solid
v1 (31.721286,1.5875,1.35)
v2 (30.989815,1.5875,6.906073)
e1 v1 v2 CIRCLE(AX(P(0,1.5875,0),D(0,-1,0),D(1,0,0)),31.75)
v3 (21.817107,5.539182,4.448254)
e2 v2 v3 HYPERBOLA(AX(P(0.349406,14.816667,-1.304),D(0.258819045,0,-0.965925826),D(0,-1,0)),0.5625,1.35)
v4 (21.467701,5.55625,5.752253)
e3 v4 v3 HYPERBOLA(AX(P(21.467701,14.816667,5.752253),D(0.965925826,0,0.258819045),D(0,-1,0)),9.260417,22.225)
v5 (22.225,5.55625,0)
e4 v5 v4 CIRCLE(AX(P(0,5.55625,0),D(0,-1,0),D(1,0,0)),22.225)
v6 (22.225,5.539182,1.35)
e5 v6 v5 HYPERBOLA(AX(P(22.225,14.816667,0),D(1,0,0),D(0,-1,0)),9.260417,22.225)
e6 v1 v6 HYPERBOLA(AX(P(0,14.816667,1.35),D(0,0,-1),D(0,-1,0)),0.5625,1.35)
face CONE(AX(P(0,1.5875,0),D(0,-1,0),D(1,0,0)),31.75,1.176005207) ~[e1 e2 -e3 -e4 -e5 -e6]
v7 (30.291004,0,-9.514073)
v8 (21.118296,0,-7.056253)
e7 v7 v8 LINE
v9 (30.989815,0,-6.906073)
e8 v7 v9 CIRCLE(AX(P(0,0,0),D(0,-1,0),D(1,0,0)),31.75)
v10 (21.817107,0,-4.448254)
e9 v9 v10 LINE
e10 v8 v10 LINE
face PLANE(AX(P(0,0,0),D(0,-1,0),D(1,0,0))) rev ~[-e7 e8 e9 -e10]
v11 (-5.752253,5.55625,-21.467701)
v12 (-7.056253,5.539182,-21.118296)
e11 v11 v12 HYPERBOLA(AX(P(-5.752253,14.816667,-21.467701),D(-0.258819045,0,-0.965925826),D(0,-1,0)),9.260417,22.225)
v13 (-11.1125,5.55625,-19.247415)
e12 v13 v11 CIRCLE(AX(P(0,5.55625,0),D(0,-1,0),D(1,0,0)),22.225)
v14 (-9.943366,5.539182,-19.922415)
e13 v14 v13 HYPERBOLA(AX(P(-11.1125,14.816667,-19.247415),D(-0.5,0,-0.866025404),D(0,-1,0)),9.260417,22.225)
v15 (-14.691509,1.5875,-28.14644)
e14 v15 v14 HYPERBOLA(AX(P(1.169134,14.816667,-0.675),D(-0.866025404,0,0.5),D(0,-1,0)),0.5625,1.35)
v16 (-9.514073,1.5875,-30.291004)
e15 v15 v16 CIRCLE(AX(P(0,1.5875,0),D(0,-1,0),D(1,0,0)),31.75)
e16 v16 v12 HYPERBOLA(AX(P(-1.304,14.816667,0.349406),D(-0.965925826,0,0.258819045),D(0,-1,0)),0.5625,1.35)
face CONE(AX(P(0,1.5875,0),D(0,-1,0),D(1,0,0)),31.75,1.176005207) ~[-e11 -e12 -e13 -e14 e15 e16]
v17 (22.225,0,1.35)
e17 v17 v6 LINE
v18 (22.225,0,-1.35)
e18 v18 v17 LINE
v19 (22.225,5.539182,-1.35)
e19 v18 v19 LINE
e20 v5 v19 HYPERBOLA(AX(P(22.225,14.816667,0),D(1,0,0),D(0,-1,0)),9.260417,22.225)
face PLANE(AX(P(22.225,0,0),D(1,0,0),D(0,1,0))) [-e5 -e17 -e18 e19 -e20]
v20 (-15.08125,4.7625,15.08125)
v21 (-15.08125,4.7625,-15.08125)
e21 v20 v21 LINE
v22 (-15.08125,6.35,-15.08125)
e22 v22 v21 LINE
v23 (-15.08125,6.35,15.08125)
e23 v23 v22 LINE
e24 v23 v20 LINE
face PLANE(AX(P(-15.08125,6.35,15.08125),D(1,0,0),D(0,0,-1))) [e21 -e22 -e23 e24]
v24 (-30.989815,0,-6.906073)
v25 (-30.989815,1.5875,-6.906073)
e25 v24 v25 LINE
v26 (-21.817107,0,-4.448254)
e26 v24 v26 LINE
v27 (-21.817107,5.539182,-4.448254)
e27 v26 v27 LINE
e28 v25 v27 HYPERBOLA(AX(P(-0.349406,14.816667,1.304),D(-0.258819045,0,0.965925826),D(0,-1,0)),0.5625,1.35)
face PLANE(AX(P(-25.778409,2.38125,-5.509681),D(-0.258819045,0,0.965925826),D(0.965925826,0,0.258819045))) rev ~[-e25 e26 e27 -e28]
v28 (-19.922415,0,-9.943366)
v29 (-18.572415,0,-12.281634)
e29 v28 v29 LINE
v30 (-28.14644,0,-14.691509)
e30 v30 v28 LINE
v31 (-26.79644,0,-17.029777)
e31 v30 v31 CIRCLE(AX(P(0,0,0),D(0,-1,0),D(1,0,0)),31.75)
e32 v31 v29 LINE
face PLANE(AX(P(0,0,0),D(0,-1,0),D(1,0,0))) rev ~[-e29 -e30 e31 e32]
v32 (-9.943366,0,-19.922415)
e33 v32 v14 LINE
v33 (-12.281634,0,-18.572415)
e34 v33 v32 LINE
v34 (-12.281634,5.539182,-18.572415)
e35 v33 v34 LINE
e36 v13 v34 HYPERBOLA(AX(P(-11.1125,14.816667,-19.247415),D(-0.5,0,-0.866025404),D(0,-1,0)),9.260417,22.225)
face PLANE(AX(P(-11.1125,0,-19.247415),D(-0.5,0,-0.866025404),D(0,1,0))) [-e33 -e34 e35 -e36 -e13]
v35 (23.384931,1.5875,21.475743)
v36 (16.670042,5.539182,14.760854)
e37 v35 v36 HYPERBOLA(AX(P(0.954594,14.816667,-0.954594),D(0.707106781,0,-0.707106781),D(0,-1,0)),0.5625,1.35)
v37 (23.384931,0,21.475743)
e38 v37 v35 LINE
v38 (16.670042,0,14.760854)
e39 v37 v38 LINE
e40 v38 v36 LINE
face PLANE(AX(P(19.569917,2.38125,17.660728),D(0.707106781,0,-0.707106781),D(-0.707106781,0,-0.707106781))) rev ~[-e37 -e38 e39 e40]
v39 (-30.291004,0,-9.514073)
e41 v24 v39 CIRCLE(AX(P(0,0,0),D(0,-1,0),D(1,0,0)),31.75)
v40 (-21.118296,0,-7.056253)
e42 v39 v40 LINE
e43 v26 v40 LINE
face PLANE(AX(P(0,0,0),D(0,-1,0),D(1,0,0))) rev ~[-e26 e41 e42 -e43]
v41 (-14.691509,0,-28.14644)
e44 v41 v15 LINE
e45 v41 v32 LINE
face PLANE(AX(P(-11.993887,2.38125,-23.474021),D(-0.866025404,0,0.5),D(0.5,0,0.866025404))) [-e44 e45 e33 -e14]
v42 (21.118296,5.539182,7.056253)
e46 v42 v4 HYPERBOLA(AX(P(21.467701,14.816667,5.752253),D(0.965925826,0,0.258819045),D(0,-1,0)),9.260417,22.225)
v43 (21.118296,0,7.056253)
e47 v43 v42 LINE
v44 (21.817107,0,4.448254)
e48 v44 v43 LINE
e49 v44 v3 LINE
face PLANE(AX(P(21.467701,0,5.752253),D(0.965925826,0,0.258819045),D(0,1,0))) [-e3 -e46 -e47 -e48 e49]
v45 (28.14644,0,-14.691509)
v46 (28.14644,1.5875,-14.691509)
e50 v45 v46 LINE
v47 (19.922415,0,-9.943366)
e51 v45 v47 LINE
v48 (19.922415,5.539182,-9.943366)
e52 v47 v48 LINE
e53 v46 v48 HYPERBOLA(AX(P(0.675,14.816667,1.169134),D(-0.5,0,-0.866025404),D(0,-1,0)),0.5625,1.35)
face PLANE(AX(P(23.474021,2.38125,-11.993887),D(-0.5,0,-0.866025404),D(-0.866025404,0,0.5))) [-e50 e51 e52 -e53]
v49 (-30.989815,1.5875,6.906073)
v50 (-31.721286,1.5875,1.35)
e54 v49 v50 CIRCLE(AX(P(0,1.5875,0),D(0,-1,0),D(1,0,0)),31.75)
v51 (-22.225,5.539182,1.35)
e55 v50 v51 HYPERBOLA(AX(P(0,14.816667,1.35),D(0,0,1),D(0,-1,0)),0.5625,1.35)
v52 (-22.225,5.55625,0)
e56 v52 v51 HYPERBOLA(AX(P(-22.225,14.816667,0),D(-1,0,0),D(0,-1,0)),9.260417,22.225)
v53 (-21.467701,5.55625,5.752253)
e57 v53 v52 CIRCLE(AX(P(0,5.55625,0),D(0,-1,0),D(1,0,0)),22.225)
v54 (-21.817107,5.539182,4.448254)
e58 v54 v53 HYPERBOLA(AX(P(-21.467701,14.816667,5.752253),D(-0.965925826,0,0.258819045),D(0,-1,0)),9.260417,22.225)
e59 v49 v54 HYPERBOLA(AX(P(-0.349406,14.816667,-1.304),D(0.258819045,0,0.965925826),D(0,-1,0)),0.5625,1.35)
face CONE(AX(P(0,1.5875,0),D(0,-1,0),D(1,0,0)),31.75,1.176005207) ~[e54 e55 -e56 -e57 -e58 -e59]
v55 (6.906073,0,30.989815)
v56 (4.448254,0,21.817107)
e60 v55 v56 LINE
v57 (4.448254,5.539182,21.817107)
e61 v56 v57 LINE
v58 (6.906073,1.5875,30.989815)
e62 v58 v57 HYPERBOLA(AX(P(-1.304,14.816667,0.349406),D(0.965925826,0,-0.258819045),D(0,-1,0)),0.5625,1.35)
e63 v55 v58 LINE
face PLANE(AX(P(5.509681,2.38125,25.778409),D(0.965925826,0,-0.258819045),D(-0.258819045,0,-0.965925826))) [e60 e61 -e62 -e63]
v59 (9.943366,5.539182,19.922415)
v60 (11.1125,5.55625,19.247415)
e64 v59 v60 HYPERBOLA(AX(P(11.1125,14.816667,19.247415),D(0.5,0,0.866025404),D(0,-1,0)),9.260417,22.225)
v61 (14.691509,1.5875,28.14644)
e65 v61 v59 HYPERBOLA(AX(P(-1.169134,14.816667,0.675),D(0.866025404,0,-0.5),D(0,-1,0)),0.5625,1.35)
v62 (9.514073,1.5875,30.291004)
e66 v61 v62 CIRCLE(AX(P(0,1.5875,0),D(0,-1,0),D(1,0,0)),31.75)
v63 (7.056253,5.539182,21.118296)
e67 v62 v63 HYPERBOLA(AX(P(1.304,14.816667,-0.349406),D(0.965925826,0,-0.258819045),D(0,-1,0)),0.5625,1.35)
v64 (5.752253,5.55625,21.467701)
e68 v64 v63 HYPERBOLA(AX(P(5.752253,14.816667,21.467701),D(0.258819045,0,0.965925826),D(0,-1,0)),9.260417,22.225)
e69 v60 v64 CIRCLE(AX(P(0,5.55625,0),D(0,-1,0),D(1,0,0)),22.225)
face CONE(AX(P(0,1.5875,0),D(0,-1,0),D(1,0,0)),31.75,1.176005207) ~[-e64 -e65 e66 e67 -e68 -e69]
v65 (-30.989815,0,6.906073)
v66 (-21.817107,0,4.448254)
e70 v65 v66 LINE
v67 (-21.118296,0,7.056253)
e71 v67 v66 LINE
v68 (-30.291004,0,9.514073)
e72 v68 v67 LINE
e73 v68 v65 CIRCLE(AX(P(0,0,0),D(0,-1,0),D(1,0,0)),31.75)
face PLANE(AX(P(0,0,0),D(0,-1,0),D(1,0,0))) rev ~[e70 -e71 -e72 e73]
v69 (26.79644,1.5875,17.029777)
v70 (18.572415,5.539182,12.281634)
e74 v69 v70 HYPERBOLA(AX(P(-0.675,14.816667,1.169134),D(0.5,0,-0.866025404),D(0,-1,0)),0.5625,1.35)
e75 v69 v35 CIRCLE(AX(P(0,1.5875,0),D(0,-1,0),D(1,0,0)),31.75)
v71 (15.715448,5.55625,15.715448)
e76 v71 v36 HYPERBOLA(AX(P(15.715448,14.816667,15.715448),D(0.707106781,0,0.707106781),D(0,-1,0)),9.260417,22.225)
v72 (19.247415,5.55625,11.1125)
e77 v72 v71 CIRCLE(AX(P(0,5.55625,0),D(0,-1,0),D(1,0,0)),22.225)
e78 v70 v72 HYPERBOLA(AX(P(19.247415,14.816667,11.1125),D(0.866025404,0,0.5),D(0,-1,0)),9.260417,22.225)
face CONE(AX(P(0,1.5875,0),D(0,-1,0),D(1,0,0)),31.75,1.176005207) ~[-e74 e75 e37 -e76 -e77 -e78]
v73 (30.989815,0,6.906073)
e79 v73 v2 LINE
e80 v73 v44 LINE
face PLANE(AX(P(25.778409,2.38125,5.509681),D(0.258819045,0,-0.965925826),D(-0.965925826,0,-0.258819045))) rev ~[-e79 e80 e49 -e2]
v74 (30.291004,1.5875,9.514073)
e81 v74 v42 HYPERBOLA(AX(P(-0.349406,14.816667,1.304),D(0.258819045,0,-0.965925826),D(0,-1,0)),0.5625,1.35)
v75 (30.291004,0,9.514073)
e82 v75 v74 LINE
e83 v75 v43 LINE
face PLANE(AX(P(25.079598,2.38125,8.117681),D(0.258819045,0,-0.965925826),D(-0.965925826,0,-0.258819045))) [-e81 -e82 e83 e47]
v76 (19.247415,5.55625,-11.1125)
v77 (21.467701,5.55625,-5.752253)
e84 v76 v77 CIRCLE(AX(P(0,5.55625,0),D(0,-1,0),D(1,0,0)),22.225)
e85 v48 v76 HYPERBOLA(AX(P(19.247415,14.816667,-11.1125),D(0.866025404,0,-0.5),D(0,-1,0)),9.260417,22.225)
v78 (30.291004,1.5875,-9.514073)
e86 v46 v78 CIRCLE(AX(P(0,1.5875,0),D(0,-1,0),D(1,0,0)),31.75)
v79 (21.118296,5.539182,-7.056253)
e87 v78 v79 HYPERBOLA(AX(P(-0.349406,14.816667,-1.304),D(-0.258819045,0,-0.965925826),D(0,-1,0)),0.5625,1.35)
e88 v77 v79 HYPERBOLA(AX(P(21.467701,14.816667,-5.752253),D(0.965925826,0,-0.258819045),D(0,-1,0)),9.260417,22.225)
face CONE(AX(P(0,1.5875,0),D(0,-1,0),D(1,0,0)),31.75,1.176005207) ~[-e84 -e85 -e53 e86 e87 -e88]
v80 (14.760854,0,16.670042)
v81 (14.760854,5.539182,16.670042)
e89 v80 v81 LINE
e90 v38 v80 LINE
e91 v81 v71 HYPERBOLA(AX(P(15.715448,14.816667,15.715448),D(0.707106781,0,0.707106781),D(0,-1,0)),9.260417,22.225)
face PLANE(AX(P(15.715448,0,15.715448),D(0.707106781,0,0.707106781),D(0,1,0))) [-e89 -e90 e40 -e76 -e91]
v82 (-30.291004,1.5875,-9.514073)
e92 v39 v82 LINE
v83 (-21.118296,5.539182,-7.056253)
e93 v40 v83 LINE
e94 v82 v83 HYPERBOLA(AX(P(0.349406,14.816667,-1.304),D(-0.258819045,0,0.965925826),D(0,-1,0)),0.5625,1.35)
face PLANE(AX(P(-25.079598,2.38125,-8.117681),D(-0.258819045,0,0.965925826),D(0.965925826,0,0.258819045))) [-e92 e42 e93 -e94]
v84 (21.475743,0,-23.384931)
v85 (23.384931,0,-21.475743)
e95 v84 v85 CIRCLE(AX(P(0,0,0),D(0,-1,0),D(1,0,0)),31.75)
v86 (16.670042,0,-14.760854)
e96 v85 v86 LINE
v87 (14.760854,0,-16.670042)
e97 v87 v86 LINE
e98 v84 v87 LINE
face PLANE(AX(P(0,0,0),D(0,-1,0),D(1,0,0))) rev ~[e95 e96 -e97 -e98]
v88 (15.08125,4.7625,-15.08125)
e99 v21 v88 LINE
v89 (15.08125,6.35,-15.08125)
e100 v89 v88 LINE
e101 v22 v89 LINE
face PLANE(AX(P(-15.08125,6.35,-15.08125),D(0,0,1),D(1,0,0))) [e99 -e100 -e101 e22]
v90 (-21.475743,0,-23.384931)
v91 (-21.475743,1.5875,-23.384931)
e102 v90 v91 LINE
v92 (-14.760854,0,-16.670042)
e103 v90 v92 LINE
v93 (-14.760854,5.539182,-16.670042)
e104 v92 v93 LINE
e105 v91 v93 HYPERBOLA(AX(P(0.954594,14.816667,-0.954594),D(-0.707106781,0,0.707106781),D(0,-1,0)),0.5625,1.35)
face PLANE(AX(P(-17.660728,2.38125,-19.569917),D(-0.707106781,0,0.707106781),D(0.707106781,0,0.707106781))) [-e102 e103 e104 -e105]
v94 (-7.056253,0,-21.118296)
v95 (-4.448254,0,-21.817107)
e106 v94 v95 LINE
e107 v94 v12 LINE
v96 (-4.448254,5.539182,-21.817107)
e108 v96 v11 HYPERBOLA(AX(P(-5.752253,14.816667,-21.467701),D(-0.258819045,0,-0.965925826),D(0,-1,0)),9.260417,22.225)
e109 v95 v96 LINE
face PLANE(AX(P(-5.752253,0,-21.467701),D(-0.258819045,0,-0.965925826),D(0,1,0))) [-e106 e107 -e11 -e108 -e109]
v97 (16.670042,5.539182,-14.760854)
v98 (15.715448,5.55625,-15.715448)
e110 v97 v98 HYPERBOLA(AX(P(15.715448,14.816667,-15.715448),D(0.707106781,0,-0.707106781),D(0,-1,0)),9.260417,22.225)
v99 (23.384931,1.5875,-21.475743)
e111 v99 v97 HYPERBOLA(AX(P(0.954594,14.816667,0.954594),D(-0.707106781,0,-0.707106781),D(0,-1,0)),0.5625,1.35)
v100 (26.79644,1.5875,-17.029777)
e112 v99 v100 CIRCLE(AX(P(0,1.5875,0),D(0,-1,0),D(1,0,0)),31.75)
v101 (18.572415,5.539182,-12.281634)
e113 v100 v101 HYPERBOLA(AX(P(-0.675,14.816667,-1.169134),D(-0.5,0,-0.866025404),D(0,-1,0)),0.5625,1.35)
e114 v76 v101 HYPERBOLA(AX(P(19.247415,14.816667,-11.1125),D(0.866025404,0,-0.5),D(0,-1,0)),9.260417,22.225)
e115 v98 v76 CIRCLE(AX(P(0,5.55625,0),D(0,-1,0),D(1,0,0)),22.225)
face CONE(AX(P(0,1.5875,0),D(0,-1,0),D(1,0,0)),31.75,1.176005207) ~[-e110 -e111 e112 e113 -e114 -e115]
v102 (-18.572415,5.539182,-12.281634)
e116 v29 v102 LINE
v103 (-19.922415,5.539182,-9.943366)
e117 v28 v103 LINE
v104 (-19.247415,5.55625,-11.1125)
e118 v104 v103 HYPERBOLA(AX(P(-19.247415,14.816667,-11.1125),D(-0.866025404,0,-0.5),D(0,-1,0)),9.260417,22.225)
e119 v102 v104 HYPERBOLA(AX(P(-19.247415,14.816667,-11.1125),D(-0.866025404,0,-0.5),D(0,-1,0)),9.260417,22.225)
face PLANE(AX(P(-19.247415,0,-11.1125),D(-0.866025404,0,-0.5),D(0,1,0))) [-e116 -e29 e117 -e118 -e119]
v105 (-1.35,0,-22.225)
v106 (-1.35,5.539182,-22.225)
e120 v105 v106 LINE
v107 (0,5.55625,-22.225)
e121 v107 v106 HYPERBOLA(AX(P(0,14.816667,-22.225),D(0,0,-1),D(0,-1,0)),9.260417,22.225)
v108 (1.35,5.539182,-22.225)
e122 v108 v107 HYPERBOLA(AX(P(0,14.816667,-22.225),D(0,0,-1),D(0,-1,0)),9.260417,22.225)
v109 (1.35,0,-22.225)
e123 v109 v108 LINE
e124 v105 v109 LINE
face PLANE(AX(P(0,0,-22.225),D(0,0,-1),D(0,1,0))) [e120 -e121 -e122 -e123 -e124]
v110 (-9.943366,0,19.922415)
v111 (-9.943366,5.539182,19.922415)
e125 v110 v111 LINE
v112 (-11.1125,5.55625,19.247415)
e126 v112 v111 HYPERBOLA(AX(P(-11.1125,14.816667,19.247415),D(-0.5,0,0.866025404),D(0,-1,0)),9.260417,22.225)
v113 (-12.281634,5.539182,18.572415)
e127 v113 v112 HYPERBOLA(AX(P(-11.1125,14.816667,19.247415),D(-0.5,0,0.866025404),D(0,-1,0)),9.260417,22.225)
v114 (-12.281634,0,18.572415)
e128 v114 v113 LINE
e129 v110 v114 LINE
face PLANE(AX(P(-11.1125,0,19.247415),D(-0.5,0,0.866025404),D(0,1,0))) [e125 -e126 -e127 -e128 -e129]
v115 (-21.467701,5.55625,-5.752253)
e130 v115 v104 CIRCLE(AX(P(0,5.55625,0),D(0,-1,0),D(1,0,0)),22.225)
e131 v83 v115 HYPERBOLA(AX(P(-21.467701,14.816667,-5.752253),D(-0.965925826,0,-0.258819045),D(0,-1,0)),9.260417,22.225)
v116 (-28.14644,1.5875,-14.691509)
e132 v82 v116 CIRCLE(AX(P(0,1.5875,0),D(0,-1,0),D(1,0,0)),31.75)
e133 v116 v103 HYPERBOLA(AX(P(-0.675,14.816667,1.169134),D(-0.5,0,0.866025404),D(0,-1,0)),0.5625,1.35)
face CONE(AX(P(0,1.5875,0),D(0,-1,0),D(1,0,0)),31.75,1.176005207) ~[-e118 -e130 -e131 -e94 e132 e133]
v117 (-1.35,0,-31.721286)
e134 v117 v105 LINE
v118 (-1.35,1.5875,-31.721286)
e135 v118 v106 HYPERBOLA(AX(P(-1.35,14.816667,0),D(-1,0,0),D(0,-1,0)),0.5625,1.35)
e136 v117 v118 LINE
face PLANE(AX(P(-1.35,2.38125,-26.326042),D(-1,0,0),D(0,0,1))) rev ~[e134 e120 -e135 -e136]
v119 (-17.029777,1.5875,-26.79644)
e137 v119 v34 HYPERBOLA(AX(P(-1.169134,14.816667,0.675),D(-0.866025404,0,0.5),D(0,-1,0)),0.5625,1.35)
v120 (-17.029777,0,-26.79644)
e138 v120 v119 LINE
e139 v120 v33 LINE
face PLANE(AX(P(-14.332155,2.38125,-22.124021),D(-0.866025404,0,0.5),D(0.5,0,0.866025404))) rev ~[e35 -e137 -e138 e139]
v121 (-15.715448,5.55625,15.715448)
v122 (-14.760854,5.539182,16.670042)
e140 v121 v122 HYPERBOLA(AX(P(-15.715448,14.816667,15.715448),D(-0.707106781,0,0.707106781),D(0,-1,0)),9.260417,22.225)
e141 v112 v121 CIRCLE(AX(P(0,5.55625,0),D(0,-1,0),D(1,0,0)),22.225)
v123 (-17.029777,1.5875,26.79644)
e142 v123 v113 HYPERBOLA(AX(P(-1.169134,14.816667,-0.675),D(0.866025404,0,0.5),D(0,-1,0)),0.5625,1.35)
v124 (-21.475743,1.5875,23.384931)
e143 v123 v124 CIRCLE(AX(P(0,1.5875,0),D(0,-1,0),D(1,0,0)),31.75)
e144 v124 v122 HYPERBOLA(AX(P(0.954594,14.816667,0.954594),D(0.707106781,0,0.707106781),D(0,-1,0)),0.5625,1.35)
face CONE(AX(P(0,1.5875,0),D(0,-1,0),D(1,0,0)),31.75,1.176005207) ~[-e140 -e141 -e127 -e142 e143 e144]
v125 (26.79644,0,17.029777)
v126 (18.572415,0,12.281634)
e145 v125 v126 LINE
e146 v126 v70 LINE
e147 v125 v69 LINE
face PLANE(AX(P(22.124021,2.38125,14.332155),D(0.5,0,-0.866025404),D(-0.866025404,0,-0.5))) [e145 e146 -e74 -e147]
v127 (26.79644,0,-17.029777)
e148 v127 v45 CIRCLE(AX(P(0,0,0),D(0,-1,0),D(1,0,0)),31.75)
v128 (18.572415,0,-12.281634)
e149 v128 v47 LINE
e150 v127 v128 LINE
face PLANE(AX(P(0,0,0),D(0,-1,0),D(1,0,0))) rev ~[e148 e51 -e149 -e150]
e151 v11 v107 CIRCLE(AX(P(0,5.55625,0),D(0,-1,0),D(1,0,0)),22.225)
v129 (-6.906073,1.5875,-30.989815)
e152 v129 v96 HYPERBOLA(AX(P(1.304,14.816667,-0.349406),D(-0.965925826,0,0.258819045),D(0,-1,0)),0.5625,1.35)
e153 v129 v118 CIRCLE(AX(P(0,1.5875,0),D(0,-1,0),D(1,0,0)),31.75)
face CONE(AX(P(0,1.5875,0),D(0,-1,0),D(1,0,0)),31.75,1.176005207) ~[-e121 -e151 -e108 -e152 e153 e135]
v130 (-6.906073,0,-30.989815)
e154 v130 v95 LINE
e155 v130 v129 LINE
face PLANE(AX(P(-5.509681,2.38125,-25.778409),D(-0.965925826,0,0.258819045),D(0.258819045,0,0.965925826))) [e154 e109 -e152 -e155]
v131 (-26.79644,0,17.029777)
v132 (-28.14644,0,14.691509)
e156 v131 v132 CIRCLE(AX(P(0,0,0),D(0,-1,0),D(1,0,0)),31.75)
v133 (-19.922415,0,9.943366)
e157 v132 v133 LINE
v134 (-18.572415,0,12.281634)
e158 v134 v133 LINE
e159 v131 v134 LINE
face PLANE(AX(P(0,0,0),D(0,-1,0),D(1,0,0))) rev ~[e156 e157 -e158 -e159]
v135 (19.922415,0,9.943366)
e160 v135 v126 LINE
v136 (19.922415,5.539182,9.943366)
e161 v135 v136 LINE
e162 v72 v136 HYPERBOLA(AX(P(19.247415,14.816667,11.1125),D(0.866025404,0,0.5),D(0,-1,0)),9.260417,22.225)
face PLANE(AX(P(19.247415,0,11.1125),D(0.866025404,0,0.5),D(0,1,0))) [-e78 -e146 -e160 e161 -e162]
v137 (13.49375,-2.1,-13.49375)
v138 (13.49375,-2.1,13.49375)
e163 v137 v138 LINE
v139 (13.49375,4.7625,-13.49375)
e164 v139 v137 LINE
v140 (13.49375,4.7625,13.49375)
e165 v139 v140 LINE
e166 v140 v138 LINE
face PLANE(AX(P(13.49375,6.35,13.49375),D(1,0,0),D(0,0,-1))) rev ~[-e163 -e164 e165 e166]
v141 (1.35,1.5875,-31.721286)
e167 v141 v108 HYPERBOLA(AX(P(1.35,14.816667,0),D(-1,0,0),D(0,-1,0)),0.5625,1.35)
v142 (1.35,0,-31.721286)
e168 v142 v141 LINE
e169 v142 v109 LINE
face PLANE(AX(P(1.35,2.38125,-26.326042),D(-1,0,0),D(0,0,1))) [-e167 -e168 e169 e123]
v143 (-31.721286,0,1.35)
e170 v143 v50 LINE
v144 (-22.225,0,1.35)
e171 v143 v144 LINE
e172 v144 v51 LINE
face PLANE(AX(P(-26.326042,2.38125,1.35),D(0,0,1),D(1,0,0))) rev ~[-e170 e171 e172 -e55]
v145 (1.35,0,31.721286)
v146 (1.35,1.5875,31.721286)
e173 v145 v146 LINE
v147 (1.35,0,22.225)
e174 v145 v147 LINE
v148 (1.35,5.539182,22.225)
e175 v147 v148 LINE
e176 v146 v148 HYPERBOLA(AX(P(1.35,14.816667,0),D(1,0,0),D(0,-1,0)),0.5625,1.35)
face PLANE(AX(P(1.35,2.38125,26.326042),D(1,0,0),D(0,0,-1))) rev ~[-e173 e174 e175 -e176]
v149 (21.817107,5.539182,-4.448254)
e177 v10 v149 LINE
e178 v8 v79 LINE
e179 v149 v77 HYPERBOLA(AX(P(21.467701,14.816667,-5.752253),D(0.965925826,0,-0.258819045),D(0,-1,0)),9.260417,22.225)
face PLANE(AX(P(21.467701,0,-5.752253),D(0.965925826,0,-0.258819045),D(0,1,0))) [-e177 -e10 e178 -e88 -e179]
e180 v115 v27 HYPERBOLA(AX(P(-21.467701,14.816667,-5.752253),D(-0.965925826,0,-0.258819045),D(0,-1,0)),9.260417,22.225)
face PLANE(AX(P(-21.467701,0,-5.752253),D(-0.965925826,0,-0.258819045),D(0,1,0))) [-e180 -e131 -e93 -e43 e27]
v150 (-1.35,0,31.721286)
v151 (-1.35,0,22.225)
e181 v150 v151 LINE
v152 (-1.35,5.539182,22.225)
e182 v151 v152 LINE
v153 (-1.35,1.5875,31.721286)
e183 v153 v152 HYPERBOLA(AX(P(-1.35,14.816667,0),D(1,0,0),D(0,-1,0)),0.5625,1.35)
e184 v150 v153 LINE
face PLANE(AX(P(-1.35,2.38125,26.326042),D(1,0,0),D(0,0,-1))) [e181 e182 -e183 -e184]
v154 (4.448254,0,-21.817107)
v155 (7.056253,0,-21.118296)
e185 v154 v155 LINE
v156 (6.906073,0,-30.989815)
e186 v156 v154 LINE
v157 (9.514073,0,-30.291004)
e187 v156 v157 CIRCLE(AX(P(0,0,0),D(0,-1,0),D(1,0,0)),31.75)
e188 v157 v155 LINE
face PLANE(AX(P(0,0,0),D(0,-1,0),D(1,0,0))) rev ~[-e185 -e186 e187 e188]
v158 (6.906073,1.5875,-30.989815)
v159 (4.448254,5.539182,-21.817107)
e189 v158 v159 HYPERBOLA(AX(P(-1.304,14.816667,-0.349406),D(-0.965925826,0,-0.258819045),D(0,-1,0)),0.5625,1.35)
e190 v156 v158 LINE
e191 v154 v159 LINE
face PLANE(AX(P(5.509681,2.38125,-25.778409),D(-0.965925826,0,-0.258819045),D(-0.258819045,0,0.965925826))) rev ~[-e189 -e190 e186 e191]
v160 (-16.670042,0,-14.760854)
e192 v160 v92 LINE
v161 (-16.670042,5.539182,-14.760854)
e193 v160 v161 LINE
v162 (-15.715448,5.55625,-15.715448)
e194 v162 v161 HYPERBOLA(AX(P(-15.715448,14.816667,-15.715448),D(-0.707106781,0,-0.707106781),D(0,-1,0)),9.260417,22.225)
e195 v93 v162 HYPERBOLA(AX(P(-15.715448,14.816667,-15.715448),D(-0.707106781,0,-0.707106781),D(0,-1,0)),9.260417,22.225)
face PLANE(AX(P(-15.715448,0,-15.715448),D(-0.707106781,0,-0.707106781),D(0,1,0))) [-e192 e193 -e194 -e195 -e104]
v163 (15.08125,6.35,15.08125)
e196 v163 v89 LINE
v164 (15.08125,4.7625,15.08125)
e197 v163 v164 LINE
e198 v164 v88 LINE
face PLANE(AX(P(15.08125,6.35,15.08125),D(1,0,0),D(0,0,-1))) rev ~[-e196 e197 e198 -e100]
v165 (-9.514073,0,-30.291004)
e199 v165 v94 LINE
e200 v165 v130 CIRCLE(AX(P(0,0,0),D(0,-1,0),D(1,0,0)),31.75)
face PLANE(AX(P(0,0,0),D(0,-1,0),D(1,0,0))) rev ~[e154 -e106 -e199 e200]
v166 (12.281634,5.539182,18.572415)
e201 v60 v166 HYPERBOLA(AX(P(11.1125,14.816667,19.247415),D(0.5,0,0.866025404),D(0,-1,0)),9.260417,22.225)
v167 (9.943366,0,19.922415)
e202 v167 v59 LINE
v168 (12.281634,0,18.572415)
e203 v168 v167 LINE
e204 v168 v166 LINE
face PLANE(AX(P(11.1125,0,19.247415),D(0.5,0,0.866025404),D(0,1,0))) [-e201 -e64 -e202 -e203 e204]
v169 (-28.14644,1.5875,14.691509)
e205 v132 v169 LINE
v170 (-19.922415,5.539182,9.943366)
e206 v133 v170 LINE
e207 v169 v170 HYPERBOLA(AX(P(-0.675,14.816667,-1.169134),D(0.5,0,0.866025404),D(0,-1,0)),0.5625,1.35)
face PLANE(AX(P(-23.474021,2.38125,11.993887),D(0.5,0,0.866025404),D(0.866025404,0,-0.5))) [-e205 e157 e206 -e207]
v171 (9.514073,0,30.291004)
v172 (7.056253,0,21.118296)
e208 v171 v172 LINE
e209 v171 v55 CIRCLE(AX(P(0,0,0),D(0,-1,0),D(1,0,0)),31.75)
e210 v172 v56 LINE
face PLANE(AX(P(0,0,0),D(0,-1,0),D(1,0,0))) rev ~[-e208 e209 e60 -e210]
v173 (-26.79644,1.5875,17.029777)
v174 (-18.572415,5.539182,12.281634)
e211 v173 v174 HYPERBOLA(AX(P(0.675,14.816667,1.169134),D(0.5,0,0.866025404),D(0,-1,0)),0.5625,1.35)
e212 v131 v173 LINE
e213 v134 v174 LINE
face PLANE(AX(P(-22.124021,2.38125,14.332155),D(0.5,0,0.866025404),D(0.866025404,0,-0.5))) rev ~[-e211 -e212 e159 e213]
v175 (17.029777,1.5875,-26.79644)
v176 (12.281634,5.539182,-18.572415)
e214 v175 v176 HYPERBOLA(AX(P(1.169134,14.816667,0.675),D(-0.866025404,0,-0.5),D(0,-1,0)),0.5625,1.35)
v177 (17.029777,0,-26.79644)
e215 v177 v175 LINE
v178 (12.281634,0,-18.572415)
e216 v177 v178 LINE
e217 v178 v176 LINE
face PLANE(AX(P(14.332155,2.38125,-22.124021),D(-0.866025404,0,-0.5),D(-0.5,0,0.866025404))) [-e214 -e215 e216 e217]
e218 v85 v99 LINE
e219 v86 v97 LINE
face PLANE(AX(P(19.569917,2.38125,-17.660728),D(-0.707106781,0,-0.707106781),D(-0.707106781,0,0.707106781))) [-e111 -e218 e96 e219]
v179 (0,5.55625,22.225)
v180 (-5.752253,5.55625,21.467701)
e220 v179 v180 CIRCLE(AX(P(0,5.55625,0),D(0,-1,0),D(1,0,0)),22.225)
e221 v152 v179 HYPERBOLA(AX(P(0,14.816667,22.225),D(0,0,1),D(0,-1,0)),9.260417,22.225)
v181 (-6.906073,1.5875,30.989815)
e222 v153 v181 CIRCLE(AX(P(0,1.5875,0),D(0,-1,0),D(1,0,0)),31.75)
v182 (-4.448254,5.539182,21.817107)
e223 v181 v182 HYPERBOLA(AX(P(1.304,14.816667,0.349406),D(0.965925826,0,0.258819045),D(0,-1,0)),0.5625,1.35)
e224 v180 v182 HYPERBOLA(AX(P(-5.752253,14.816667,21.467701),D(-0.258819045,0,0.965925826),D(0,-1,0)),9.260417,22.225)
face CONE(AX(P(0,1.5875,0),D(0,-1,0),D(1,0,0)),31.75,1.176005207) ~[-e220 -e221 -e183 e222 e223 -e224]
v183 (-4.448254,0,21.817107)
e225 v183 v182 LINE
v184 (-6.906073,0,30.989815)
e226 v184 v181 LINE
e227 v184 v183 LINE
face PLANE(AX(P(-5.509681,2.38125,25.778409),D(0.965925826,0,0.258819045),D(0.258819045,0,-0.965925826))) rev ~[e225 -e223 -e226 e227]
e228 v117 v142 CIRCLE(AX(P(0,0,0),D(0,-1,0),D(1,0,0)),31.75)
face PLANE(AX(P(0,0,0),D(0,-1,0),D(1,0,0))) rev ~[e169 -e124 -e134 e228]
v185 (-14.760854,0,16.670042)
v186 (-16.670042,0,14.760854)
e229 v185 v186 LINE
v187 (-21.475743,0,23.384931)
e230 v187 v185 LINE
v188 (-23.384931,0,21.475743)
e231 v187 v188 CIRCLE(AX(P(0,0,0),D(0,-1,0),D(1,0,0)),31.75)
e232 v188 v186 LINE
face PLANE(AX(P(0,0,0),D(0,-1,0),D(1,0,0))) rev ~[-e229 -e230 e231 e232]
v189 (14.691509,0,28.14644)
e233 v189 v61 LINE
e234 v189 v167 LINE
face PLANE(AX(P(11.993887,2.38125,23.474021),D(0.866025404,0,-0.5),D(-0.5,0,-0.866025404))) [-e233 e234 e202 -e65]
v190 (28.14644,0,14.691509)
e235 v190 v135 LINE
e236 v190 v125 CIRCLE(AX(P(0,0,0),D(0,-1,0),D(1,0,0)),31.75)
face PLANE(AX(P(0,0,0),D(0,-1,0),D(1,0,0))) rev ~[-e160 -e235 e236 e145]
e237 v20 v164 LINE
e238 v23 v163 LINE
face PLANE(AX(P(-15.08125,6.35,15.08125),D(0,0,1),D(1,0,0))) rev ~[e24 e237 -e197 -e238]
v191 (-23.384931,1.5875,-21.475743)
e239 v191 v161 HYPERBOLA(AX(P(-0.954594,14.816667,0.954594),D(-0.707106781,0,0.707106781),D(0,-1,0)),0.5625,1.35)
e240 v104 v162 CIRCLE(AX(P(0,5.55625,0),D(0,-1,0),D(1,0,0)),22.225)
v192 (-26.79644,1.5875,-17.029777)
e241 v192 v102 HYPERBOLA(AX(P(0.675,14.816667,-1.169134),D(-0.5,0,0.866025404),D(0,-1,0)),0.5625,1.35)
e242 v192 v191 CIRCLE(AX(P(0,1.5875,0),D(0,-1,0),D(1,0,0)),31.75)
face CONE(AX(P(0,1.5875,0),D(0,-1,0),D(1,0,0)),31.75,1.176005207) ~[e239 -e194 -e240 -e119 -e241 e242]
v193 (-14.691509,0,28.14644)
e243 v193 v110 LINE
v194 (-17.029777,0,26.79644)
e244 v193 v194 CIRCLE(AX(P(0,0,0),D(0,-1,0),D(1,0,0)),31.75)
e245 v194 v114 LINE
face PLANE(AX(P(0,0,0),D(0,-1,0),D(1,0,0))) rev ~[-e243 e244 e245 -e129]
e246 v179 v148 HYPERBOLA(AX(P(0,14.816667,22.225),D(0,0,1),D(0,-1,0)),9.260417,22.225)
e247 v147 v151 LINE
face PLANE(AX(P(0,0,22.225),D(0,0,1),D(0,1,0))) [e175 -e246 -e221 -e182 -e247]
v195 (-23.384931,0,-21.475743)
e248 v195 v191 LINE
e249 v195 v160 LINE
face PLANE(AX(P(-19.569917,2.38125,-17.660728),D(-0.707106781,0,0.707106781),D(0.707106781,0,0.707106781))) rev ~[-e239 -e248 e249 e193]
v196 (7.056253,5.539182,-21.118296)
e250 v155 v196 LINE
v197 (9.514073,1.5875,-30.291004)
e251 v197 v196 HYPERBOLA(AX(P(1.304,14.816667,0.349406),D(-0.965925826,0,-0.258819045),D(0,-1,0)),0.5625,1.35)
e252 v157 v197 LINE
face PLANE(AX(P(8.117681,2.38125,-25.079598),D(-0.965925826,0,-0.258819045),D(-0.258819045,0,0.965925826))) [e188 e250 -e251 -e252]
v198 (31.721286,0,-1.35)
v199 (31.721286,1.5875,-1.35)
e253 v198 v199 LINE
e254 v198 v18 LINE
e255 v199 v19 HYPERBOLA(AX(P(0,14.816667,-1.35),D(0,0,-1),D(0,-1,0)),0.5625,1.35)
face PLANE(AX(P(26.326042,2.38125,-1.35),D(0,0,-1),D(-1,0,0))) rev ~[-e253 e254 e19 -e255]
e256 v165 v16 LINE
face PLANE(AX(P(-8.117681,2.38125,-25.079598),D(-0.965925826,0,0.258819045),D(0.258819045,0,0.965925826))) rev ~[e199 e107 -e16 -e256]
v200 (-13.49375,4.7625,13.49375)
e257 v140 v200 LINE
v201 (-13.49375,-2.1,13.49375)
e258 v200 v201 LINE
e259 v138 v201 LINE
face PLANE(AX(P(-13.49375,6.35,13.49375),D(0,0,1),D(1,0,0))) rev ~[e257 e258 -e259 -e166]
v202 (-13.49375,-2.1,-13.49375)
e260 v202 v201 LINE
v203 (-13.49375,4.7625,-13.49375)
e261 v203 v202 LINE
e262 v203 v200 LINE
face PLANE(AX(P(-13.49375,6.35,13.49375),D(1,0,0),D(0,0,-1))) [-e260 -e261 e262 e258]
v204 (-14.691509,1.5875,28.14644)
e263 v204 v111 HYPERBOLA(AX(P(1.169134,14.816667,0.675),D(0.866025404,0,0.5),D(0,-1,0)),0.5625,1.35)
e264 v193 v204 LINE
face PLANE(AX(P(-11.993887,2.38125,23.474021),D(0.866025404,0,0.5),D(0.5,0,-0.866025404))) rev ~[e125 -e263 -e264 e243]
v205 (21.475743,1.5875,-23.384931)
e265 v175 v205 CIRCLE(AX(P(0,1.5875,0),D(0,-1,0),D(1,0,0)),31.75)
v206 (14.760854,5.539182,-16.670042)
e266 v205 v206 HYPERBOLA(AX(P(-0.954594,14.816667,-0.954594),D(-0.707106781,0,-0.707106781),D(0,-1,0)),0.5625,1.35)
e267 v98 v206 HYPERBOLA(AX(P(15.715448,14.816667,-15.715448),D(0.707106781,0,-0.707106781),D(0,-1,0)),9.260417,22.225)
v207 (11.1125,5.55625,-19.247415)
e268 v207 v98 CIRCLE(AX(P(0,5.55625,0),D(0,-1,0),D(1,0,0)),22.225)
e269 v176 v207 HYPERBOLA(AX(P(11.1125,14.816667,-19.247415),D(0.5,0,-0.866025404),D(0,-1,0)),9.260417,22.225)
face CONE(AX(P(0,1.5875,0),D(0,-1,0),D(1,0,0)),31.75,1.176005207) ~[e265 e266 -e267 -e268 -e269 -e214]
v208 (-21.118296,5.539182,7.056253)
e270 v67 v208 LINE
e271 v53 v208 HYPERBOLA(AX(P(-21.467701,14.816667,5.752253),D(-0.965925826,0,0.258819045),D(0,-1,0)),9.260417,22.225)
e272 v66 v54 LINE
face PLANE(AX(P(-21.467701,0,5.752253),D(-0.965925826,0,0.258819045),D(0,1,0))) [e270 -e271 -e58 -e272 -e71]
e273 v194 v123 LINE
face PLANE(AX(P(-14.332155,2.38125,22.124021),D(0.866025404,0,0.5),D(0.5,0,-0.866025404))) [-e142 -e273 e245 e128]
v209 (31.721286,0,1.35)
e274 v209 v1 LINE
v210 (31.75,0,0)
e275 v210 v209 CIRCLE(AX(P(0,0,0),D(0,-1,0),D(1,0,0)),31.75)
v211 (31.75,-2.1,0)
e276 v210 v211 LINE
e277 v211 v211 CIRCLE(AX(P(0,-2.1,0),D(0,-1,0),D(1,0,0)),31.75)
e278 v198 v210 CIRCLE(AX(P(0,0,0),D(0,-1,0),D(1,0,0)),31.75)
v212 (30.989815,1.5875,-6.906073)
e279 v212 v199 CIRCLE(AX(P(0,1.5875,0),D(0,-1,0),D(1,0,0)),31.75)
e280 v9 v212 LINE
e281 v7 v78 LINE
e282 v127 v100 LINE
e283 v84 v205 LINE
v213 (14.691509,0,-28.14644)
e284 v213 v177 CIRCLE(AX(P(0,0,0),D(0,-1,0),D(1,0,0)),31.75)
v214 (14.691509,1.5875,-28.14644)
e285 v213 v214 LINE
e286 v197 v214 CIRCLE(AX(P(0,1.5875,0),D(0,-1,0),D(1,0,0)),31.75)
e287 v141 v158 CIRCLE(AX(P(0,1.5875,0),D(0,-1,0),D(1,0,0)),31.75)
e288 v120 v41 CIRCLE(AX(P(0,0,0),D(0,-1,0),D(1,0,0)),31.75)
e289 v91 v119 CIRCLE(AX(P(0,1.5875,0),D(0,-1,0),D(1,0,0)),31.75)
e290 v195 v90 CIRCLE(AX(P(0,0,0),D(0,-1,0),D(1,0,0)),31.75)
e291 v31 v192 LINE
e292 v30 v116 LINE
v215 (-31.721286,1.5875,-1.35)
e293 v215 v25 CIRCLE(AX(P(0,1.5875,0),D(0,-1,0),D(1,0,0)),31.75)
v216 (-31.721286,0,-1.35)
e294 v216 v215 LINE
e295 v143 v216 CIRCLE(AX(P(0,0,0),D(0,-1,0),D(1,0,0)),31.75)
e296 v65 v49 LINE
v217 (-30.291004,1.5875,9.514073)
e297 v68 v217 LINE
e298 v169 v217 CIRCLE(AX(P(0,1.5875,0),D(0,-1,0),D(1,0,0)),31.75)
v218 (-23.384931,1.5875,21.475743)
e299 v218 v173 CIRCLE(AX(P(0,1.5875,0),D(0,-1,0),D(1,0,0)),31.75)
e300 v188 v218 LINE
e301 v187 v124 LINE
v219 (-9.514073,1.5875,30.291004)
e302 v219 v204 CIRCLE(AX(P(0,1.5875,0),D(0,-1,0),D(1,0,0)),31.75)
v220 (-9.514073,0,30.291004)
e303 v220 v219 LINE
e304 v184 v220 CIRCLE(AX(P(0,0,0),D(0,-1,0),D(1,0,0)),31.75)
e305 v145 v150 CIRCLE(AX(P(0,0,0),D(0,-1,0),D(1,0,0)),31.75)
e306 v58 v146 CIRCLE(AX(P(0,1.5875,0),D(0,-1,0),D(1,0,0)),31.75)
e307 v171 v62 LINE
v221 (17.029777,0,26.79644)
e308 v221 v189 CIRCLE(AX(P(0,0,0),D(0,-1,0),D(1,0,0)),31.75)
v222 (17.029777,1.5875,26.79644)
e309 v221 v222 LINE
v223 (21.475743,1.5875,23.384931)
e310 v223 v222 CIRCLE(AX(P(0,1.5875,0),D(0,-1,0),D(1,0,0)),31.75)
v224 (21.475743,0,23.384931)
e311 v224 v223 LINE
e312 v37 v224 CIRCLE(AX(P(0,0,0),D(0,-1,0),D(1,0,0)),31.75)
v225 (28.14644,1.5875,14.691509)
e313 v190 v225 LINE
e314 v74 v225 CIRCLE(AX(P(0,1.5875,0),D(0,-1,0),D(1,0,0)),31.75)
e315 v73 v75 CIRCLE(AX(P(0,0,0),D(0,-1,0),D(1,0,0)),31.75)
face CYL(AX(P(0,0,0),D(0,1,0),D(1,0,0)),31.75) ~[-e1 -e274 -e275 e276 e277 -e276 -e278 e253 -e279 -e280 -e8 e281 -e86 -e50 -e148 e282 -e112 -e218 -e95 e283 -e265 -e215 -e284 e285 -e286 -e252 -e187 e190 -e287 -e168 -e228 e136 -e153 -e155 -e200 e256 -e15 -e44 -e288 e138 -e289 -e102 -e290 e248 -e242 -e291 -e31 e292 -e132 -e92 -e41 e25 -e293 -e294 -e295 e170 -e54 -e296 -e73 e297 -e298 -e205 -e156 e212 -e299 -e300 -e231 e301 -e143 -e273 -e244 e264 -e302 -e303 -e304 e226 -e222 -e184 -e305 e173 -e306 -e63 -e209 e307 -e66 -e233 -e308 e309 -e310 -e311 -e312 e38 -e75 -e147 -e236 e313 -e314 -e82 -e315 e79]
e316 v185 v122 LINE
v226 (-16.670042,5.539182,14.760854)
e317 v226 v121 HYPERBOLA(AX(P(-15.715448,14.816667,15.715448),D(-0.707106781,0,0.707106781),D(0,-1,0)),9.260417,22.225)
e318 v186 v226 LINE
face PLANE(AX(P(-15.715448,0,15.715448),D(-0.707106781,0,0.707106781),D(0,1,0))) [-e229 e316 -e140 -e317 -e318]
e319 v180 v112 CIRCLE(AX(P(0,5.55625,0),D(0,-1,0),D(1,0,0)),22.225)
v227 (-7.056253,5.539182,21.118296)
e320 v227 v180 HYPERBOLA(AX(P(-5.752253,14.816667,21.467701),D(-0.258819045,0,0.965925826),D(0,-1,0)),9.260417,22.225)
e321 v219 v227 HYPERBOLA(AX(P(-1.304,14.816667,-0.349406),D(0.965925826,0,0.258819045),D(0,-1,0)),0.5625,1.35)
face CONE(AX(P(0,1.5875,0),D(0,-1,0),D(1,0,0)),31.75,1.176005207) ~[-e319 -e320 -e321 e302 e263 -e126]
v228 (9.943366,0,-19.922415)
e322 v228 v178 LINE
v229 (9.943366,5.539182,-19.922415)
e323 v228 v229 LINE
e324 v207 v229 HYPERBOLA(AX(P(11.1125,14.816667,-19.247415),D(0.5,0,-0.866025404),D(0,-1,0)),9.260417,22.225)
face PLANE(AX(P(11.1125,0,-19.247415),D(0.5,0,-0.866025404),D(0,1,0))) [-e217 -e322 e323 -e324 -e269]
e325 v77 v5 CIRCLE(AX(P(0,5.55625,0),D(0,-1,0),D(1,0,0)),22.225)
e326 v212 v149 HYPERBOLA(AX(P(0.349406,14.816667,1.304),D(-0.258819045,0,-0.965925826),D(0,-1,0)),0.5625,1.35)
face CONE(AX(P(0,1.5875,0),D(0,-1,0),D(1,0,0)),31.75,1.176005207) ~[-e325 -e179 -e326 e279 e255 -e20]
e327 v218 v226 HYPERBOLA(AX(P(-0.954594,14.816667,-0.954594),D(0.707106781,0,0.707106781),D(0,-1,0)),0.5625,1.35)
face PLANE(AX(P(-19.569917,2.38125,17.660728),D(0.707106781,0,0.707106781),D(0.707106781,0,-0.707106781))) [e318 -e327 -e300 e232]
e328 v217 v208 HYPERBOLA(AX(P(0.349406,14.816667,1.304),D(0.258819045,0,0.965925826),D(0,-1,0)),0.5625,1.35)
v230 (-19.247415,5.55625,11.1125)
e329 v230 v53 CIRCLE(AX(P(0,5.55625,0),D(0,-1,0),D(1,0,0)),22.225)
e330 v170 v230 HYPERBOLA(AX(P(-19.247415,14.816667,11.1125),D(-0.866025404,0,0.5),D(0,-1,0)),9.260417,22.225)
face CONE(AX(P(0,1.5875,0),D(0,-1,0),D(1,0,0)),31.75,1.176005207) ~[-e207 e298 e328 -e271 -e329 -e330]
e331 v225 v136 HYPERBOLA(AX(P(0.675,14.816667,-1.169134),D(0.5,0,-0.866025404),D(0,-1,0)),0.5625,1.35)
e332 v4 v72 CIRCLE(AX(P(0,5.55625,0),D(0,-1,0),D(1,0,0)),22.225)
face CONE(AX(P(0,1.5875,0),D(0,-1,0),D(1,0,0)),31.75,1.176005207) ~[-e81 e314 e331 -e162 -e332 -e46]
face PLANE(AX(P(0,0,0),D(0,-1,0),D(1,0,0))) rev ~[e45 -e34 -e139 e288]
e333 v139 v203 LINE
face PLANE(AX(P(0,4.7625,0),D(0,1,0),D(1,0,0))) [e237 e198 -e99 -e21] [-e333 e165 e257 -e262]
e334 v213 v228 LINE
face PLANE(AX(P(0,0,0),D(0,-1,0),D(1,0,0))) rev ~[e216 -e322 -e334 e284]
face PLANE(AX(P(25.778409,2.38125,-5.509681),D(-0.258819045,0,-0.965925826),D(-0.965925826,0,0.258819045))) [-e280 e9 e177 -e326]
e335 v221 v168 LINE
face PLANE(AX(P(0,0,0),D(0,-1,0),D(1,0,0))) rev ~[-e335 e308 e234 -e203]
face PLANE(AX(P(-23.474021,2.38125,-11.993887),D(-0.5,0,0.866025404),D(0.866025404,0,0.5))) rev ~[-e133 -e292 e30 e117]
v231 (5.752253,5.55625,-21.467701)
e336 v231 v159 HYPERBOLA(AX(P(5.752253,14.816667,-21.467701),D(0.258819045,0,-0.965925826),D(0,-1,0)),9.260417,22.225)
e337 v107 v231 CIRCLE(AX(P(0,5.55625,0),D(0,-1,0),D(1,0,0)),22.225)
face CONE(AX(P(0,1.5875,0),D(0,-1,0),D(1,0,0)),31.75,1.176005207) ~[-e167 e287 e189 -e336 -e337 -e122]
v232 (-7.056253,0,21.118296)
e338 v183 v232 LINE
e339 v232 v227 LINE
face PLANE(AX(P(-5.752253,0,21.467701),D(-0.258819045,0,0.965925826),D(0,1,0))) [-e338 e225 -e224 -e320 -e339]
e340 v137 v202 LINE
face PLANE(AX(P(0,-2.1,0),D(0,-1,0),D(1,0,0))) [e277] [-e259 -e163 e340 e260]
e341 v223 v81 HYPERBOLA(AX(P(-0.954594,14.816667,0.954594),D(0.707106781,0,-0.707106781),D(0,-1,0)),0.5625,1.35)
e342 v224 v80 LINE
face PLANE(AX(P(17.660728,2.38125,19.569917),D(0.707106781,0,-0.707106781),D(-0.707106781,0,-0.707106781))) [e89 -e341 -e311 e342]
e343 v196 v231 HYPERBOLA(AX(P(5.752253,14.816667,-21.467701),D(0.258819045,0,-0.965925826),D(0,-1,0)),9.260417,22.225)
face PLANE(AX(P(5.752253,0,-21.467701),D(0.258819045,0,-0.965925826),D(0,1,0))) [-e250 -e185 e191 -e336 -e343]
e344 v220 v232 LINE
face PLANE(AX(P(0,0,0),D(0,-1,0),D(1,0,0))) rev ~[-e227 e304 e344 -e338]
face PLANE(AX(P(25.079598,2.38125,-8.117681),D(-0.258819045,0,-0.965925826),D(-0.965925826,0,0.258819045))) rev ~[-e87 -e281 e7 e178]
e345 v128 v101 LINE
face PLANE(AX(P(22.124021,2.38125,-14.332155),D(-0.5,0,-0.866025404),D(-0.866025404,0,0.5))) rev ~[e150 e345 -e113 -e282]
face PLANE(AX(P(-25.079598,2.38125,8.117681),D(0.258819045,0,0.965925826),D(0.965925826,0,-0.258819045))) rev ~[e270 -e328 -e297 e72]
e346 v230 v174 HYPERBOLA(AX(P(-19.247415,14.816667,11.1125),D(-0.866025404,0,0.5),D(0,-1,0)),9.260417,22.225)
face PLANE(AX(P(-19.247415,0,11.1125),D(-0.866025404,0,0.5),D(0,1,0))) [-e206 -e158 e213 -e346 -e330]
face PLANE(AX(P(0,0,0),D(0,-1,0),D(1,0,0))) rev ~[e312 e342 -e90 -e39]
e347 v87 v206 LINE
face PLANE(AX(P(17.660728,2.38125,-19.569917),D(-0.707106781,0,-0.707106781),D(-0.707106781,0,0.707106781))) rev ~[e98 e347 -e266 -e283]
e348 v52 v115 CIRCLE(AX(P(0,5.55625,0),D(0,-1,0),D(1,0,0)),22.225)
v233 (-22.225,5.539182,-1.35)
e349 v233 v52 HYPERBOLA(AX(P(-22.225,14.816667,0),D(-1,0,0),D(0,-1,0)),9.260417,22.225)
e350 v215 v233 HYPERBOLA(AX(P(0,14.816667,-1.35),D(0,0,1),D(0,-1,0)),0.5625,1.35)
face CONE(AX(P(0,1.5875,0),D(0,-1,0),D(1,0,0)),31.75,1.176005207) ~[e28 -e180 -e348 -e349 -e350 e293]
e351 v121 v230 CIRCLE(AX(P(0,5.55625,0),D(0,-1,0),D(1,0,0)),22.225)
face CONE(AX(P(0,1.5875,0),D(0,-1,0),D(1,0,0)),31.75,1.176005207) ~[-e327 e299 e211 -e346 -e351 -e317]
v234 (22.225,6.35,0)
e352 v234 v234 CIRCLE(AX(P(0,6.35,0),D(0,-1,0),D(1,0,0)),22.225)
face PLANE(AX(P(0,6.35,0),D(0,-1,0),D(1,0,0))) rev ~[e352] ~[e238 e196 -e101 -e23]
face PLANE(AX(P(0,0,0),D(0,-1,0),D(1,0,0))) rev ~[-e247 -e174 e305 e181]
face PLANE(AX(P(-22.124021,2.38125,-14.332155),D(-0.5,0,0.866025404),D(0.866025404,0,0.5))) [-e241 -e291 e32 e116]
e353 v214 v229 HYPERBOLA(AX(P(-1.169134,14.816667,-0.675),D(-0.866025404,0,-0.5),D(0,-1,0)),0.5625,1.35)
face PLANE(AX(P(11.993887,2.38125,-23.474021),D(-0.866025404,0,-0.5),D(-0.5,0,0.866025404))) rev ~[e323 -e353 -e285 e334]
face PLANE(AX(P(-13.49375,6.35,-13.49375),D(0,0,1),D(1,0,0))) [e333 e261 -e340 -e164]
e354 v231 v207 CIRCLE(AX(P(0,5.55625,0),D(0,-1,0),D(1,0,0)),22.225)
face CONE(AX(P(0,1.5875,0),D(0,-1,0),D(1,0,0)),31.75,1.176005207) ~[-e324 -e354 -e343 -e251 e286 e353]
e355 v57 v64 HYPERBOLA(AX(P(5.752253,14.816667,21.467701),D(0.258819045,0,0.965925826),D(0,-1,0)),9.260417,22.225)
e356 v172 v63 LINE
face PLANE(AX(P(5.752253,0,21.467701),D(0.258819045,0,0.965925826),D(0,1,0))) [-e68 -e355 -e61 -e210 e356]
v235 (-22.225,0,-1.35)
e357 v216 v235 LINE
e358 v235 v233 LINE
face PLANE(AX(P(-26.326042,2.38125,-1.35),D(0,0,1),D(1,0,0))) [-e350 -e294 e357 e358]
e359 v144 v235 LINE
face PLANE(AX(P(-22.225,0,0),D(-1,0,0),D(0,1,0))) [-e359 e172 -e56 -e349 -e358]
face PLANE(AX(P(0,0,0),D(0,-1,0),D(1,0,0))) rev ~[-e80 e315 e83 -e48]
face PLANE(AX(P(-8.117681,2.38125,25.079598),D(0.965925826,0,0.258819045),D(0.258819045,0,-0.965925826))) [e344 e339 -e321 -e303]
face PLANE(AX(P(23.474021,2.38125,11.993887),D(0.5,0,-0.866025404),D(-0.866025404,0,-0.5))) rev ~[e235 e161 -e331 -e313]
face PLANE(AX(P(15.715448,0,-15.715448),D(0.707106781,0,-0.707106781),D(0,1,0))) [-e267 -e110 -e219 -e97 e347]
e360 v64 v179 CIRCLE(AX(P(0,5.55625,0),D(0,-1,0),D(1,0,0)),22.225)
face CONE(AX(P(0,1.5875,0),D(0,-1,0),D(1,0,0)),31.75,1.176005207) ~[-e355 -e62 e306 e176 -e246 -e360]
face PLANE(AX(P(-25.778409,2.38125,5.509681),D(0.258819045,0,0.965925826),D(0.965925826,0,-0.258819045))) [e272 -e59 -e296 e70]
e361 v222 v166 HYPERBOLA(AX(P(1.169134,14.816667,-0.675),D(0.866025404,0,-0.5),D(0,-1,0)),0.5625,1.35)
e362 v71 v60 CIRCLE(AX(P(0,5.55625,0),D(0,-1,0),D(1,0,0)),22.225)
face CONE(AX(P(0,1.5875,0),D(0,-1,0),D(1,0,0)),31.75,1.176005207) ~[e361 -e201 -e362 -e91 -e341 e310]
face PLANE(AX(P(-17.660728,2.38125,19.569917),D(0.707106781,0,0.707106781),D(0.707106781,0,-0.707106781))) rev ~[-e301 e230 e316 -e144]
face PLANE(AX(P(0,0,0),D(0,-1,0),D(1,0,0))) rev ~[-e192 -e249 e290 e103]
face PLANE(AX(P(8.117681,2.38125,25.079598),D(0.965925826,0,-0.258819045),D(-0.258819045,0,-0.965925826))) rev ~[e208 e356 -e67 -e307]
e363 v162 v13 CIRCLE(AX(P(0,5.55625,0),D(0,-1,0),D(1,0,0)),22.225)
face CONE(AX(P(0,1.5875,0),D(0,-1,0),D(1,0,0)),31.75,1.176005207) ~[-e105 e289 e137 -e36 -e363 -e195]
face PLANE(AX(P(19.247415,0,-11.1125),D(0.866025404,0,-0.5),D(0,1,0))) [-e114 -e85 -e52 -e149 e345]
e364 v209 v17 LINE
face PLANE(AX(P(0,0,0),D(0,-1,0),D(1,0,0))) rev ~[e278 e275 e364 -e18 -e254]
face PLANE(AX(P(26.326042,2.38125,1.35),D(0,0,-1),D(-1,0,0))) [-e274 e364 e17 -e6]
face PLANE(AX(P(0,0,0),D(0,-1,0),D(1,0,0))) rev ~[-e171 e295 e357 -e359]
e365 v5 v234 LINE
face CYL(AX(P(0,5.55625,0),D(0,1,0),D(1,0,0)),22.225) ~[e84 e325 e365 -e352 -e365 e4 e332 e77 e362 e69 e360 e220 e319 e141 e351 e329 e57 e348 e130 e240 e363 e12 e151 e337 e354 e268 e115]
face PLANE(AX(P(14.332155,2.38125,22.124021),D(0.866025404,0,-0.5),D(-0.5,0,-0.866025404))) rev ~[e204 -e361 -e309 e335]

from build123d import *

# Parameters (mm, degrees)
CUT_EXTRUDE1_DEPTH  = 1.349999904
CIRPATTERN1_COUNT   = 24
SKETCH17_R          = 31.75
BOSS_EXTRUDE1_DEPTH = 2.1
SKETCH15_W          = 26.9875
SKETCH15_H          = 26.9875
CUT_EXTRUDE2_DEPTH  = 9.45
SKETCH16_W          = 30.1625
SKETCH16_H          = 30.1625
CUT_EXTRUDE3_DEPTH  = 1.5875


with BuildPart() as part:
    # Sketch2 → Revolve1 (revolve)
    with BuildSketch(Plane.XY):
        Polygon((0, 0), (31.75, 0), (31.75, 1.5875), (22.225, 5.55625), (22.225, 6.35), (0, 6.35), align=None)
    revolve(axis=Axis((0, 6.35, 0), (0, -1, 0)))

    # Sketch3 → Cut-Extrude1 (cut, symmetric)
    with BuildSketch(Plane.XY):
        Polygon((22.225, 6.35), (31.75, 2.38125), (31.75, 0), (22.225, 0), align=None)
    cut_extrude1 = extrude(amount=CUT_EXTRUDE1_DEPTH, both=True, mode=Mode.SUBTRACT)

    # CirPattern1: Cut-Extrude1 ×24 about axis
    cirpattern1_axis = Axis((0, 0, 0), (0, 1, 0))
    for i in range(1, CIRPATTERN1_COUNT):
        add(cut_extrude1.rotate(cirpattern1_axis, i * 360 / CIRPATTERN1_COUNT), mode=Mode.SUBTRACT)

    # Sketch17 → Boss-Extrude1 (add)
    with BuildSketch(Plane.XZ):
        Circle(SKETCH17_R)
    extrude(amount=BOSS_EXTRUDE1_DEPTH)

    # Sketch15 → Cut-Extrude2 (cut, through all)
    with BuildSketch(Plane(origin=(0, 6.35, 0), x_dir=(1, 0, 0), z_dir=(0, 1, 0))):
        Rectangle(SKETCH15_W, SKETCH15_H)
    extrude(amount=-CUT_EXTRUDE2_DEPTH, mode=Mode.SUBTRACT)

    # Sketch16 → Cut-Extrude3 (cut)
    with BuildSketch(Plane(origin=(0, 6.35, 0), x_dir=(1, 0, 0), z_dir=(0, 1, 0))):
        Rectangle(SKETCH16_W, SKETCH16_H)
    extrude(amount=-CUT_EXTRUDE3_DEPTH, mode=Mode.SUBTRACT)


solid = part.part
